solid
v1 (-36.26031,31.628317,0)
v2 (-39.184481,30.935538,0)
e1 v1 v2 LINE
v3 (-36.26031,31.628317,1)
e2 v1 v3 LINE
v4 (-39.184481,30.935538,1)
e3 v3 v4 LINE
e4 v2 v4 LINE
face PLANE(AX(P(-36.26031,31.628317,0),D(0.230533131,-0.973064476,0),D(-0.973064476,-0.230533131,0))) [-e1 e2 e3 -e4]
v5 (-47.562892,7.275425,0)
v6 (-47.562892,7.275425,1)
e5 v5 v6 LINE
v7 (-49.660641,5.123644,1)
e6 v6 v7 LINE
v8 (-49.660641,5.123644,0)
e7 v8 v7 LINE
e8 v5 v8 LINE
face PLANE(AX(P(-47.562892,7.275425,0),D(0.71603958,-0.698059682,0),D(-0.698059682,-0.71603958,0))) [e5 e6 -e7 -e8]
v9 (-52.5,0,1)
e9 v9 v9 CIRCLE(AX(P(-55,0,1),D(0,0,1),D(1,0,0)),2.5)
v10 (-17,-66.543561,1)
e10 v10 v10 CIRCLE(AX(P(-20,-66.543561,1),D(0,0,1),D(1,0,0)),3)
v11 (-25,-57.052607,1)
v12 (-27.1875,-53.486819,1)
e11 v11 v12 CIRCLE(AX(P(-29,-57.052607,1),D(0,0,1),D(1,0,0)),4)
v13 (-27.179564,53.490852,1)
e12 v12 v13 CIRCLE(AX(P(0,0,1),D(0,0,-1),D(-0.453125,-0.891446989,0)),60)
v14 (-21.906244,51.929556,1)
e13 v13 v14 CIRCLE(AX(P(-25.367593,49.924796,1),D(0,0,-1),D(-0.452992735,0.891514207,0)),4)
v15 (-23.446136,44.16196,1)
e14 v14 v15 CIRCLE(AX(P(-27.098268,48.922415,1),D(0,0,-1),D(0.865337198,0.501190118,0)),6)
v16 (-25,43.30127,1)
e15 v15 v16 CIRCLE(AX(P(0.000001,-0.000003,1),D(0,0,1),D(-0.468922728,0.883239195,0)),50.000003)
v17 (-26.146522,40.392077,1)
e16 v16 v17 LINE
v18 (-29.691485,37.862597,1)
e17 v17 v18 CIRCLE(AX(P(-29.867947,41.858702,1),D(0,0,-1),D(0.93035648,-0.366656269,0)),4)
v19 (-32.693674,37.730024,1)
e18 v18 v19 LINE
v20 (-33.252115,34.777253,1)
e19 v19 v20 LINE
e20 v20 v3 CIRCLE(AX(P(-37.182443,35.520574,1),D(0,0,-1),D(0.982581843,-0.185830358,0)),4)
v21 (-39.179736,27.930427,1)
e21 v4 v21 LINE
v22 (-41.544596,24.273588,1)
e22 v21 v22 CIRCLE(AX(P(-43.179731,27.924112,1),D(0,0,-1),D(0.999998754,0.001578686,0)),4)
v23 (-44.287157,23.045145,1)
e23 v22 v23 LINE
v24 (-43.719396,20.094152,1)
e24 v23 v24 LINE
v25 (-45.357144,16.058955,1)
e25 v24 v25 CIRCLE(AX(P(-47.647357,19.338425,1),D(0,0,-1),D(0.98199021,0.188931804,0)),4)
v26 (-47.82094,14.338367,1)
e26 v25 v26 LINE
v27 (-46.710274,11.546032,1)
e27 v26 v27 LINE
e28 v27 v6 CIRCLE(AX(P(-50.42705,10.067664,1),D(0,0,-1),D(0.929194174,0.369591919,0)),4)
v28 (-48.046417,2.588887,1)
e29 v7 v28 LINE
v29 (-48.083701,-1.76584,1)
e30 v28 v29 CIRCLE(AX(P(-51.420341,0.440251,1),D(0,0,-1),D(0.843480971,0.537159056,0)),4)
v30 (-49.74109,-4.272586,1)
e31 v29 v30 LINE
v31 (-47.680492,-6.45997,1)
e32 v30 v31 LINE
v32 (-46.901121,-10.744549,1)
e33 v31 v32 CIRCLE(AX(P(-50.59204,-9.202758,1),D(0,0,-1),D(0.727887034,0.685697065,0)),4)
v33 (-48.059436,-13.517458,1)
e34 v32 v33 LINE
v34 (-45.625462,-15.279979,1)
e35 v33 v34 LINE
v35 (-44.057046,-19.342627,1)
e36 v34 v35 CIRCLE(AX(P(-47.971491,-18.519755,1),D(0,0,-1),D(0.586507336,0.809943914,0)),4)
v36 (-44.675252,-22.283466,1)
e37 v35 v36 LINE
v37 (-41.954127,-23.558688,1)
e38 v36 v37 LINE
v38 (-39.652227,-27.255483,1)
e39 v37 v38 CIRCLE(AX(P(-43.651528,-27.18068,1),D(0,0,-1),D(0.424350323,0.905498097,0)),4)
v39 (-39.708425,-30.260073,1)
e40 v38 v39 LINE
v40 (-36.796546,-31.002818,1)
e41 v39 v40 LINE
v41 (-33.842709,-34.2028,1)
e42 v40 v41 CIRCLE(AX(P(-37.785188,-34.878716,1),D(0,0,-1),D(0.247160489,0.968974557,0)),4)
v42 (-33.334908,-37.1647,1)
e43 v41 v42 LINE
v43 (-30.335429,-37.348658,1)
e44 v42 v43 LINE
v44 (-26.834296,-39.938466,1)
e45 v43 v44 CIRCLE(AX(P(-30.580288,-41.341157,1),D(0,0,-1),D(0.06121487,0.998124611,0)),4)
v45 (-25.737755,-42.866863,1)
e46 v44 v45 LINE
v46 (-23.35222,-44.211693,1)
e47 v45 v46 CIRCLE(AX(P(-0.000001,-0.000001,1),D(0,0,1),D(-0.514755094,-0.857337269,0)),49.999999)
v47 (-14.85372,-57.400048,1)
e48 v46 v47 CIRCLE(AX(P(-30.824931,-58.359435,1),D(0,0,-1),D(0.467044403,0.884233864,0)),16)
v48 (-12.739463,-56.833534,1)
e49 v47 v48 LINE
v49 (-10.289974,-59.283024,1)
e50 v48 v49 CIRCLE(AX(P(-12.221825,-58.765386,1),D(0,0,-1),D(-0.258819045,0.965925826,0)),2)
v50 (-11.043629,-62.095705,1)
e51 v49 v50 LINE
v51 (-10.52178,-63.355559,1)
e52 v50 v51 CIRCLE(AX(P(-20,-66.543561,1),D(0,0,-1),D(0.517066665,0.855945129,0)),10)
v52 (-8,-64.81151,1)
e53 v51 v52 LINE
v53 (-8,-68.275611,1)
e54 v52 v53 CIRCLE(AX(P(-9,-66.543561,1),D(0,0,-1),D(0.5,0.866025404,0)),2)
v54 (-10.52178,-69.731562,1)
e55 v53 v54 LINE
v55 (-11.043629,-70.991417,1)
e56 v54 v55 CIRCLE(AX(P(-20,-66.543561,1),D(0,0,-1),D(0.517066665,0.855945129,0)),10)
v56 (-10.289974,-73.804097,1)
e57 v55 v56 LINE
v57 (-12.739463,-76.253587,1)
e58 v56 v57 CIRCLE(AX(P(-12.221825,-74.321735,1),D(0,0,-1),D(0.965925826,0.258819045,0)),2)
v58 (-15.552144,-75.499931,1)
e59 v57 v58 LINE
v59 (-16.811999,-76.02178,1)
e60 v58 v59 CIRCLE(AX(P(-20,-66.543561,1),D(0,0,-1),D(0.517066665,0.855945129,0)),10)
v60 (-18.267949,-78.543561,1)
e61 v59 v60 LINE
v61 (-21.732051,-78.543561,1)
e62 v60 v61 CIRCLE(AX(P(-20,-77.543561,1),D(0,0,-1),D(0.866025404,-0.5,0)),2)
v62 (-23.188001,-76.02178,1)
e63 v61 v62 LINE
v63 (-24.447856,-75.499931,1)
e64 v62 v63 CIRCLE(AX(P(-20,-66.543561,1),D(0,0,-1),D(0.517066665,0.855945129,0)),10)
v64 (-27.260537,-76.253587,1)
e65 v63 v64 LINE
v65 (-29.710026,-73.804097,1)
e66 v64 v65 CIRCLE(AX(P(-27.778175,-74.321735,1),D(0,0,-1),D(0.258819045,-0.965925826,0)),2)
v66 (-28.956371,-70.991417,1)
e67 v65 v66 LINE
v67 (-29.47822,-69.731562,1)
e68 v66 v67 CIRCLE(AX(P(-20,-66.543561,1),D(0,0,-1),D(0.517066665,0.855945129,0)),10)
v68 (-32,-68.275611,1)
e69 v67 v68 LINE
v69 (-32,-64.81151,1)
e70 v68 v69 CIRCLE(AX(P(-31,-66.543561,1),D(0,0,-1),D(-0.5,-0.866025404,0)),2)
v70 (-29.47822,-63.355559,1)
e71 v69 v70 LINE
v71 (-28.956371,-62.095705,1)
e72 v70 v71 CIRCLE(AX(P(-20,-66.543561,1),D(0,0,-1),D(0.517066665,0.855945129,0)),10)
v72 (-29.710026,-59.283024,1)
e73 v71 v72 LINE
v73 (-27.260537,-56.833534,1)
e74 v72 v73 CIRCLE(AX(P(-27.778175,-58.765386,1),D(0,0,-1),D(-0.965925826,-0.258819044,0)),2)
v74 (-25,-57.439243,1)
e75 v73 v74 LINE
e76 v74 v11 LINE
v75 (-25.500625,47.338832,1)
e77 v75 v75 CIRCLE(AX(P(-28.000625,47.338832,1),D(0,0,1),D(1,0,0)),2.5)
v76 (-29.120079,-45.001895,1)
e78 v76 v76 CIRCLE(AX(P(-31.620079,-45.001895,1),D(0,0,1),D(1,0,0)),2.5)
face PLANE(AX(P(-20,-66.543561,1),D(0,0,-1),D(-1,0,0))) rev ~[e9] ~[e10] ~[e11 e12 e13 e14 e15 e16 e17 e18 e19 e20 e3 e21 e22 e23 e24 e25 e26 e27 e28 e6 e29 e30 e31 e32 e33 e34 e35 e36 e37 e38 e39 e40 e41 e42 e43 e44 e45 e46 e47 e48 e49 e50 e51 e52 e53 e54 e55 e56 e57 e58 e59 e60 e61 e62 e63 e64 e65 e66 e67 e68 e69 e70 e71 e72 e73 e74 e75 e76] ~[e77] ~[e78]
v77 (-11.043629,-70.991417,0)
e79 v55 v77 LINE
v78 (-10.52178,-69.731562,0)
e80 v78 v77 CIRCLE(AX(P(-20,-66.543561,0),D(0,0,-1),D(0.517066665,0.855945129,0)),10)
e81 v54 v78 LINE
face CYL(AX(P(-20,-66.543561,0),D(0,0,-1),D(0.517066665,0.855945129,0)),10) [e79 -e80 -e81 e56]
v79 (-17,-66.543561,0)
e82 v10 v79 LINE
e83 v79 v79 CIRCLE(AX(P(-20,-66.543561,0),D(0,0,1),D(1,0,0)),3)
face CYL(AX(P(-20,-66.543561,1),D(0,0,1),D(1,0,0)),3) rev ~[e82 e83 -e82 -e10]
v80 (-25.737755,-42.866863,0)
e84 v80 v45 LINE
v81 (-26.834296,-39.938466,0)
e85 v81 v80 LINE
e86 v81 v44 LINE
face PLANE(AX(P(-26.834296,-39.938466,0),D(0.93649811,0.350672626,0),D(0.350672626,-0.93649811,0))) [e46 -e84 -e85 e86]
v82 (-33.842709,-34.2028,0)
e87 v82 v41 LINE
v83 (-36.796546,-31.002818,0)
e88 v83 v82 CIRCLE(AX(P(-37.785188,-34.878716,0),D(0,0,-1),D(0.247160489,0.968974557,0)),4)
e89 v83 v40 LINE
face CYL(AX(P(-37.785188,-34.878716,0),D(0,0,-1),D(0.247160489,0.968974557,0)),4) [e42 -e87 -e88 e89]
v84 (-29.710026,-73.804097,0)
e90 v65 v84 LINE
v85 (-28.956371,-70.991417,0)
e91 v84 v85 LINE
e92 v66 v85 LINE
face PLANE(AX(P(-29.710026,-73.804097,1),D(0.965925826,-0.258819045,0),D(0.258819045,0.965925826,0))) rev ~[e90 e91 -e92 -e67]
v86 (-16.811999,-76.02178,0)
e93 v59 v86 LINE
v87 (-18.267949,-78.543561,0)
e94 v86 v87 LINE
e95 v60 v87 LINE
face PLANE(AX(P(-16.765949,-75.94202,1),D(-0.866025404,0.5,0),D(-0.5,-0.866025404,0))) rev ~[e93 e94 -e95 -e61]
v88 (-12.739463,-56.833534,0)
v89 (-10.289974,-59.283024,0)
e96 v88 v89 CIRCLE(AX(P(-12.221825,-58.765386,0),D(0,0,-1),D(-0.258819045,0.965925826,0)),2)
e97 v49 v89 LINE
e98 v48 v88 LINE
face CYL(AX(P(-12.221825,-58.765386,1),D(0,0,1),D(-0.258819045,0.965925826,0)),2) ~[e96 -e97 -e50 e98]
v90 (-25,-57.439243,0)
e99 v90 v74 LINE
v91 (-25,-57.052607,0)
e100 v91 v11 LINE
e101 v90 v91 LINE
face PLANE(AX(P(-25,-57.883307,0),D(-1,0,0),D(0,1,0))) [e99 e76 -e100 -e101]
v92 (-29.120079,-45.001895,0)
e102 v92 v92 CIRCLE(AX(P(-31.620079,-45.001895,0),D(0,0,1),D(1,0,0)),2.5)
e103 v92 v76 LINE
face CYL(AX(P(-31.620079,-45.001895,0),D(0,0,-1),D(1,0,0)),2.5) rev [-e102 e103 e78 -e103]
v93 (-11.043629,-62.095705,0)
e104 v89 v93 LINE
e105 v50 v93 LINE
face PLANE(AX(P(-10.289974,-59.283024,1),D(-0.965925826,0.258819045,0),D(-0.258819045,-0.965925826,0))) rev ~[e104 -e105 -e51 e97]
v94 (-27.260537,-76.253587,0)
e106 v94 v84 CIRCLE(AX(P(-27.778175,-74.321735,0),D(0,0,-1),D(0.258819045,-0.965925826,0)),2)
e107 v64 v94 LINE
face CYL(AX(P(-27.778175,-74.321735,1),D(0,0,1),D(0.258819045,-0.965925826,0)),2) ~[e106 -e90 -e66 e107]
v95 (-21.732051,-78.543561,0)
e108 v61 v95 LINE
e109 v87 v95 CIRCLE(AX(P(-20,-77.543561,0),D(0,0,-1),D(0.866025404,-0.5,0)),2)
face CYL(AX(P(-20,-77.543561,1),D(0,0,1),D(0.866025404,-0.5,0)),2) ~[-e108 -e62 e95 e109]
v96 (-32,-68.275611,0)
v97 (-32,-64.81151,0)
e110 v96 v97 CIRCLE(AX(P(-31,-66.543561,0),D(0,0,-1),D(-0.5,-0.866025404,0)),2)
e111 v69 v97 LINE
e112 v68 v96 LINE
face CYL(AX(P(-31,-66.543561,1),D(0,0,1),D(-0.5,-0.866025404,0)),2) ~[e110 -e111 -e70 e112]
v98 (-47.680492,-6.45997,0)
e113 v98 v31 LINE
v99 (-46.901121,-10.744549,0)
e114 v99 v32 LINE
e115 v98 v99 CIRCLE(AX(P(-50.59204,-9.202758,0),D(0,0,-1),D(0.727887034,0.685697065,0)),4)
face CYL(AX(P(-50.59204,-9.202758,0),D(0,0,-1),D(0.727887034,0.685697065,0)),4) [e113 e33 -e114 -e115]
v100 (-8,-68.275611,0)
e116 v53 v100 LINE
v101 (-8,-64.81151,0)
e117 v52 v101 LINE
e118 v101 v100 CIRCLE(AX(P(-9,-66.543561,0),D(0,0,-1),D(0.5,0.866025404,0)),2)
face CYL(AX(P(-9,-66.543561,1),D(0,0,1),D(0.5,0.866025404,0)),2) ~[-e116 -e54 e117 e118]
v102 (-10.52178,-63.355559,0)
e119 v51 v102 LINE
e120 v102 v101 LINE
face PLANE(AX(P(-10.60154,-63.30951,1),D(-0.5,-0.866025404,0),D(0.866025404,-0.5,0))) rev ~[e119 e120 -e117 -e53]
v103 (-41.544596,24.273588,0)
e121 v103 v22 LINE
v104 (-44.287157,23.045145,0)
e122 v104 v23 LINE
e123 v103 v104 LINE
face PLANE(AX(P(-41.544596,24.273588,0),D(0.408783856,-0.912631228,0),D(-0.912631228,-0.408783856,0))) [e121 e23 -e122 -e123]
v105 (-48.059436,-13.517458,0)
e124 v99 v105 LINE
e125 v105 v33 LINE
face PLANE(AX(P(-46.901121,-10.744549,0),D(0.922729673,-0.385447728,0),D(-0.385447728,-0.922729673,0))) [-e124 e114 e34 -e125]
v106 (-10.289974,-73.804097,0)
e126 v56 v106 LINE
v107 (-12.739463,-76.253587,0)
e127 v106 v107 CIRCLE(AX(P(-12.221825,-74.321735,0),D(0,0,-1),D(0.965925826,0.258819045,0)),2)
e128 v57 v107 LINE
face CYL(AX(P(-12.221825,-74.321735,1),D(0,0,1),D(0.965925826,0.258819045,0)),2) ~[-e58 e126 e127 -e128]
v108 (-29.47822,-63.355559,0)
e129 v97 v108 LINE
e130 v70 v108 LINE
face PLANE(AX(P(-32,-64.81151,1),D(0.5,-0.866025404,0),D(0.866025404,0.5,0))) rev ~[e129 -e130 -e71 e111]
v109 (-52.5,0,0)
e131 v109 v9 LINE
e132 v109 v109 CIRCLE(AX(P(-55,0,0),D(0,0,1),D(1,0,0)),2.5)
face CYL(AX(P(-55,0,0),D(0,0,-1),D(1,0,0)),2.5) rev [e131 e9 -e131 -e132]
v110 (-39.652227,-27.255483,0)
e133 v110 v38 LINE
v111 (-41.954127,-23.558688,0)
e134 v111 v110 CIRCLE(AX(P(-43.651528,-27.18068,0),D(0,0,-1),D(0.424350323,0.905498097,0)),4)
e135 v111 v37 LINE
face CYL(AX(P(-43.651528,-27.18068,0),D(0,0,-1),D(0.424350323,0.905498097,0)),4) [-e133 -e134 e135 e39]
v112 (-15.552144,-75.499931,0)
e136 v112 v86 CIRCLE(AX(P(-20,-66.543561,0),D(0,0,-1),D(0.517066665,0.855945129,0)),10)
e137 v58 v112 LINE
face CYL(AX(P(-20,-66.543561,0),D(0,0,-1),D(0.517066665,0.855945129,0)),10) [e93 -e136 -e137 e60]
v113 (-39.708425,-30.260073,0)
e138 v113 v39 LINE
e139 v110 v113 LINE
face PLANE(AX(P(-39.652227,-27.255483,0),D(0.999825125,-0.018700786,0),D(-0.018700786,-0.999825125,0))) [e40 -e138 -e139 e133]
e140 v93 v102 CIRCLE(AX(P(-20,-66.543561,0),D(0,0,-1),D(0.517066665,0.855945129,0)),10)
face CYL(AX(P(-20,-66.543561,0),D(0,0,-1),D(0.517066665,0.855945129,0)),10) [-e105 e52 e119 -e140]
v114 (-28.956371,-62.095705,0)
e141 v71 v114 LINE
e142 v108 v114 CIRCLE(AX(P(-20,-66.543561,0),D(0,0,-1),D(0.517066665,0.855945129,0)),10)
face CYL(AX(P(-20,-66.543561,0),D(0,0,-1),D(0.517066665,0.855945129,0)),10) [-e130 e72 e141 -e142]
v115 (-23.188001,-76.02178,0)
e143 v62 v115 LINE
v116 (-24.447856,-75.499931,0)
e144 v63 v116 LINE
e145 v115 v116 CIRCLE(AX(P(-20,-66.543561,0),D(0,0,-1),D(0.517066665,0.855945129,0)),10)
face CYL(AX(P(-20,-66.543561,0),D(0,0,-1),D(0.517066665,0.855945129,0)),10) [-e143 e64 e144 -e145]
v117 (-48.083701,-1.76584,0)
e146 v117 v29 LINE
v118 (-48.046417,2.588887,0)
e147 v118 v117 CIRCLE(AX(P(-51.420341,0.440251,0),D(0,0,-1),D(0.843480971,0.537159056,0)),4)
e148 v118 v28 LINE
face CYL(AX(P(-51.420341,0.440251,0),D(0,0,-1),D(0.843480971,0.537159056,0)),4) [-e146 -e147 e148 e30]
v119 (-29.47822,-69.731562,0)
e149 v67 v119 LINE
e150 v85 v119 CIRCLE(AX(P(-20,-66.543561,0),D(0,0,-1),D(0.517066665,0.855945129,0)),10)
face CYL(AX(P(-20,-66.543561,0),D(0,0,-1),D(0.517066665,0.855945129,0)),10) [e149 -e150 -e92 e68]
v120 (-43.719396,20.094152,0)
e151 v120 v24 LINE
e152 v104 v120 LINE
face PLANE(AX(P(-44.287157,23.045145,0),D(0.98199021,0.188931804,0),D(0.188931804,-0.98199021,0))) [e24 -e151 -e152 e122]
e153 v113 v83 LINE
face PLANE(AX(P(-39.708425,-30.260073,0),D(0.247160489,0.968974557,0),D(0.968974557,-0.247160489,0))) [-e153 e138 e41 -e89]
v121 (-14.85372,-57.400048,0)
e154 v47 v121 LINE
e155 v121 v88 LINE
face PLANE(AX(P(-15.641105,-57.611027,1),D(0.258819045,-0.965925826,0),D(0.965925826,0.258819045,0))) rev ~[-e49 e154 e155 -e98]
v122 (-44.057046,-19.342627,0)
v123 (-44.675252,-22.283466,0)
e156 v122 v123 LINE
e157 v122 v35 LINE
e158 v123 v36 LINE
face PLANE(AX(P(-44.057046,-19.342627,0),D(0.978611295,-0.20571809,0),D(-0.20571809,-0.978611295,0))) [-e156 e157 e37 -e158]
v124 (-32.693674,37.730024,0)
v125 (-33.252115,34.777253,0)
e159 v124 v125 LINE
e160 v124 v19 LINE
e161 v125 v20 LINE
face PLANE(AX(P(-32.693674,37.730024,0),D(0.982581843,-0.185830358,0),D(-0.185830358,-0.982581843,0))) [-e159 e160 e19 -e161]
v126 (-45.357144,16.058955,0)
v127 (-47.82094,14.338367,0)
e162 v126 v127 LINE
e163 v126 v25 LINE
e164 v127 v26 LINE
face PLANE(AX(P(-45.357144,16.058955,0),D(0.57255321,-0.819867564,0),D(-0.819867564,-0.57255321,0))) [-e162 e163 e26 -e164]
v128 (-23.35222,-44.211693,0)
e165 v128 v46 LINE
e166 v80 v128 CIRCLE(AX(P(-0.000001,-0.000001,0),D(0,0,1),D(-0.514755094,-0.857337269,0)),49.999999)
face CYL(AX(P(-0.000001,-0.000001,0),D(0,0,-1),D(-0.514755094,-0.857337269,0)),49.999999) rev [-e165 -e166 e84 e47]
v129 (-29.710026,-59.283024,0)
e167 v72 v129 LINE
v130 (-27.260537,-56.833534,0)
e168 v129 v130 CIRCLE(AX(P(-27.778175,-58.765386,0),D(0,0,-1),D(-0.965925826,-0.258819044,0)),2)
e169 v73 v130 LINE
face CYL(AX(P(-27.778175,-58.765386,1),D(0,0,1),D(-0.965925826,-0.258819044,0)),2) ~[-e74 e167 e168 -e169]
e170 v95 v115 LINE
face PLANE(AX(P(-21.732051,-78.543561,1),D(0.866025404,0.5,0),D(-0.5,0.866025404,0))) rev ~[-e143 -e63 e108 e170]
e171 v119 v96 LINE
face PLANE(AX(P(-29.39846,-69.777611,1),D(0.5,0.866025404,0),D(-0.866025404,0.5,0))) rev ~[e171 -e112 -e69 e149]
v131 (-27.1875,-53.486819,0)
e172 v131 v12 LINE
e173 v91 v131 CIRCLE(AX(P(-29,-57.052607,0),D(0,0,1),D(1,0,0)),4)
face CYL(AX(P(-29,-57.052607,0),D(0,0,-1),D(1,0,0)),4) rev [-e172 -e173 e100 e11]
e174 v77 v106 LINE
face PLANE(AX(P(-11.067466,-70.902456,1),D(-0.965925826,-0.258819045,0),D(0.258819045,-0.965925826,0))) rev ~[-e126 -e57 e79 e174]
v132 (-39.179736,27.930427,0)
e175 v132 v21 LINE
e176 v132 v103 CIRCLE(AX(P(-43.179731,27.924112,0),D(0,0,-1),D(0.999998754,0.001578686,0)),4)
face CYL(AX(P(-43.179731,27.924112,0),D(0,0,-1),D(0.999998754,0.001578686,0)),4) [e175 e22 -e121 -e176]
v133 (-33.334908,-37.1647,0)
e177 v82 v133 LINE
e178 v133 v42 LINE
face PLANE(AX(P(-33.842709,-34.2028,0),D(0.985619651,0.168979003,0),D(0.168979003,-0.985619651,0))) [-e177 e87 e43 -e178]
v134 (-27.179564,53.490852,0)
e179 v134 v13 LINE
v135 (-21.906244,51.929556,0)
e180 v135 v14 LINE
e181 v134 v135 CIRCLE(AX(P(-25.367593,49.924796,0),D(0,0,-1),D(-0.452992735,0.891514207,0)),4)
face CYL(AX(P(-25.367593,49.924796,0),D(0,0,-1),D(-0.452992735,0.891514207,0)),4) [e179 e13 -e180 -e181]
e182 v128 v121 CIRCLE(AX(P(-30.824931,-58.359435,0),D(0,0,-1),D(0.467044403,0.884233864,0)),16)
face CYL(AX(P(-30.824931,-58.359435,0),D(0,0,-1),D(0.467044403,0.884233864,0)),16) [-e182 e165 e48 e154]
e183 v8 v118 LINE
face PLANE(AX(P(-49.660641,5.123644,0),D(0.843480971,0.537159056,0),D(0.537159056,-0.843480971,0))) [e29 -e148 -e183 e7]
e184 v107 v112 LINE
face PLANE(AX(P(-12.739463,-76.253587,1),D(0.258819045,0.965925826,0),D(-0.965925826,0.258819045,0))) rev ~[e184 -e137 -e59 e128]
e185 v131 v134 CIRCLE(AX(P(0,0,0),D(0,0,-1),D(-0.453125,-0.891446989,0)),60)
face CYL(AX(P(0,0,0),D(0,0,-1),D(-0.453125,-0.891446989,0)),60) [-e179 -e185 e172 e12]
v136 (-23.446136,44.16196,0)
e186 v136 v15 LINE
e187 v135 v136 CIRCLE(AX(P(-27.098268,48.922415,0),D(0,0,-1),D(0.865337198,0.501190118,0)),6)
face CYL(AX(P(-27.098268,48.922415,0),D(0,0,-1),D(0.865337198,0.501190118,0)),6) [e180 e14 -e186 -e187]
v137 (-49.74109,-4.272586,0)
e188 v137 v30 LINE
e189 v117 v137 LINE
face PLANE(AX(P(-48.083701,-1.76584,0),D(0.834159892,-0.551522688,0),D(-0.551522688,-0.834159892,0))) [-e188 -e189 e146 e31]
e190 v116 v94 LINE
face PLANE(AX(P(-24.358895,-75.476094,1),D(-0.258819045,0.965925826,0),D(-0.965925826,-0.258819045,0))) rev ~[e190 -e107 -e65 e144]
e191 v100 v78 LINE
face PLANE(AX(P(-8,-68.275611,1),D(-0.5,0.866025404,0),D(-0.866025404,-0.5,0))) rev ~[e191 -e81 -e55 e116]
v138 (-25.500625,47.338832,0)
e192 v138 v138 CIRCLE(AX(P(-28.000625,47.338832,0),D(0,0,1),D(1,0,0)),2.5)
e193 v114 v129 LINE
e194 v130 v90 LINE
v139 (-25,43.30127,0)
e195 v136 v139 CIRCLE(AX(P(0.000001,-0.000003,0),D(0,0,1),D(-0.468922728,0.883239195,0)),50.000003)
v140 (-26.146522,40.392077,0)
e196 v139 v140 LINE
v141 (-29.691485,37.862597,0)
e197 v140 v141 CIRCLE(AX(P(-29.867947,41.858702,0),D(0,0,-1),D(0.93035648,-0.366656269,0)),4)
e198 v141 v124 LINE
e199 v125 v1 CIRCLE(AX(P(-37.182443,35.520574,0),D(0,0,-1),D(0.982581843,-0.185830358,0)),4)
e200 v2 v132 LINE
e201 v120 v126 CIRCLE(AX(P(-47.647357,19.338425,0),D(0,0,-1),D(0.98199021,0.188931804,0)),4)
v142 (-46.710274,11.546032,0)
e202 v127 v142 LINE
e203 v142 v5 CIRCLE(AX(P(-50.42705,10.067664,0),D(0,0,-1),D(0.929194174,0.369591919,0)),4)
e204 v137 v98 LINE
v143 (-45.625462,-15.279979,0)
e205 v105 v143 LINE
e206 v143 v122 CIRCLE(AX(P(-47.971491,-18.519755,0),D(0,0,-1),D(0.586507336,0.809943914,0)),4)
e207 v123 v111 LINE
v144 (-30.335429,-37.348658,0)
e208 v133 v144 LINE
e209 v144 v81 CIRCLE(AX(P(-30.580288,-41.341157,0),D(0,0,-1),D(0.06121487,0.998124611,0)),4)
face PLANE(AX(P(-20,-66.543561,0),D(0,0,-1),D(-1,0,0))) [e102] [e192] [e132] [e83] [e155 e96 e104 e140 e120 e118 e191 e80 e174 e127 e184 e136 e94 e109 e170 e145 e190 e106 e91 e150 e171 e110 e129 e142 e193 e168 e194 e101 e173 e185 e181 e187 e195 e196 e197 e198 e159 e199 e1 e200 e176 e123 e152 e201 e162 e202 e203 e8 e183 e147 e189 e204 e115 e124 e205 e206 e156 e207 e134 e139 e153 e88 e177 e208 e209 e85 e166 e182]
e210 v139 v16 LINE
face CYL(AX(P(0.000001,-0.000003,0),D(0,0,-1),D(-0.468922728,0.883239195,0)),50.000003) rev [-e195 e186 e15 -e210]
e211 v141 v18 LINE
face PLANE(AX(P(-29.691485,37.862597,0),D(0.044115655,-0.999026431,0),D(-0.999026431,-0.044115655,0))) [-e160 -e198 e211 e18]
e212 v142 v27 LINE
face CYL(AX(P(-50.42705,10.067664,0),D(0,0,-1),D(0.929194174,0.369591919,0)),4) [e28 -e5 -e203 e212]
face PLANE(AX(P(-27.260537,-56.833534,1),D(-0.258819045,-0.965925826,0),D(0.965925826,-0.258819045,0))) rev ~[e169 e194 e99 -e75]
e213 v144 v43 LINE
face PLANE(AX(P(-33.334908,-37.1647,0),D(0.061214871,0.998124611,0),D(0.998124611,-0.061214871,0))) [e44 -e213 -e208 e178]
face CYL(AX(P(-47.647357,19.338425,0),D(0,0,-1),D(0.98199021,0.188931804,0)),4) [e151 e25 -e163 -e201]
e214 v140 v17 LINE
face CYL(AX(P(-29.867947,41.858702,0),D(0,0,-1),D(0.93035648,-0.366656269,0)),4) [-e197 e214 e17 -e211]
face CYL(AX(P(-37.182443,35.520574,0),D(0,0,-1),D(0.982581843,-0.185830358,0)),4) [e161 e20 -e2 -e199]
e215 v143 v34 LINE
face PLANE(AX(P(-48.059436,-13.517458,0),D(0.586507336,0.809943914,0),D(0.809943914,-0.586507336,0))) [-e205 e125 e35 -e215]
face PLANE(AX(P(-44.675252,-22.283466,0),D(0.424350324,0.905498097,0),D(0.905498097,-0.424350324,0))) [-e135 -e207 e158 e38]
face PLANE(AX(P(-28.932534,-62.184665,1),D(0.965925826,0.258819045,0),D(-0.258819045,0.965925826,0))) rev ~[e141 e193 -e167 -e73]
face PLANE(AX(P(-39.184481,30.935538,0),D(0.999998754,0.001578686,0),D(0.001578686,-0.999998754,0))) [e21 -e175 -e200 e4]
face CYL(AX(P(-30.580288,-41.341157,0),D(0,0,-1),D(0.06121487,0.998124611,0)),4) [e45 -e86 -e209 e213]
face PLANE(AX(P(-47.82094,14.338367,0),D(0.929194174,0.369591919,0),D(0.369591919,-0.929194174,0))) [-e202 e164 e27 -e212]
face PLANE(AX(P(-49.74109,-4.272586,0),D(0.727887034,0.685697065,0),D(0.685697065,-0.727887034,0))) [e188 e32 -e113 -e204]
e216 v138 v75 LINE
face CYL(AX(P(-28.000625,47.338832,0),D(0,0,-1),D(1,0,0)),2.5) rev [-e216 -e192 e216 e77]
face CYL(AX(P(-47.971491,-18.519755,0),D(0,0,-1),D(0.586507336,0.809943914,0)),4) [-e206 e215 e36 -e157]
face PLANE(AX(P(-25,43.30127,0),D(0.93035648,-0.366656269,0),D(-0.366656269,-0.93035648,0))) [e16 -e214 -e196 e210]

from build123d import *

# Parameters (mm, degrees)
IZIM1_R                     = 5
IZIM1_R_2                   = 2.5
Y_KSEKLIK_EKSTR_ZYON2_DEPTH = 1
IZIM2_R                     = 3
Y_KSEKLIK_EKSTR_ZYON4_DEPTH = 1


with BuildPart() as part:
    # Çizim1 → Yükseklik-Ekstrüzyon2 (new body)
    with BuildSketch(Plane.XY):
        with BuildLine():
            Line((-25, 43.301270189), (-26.146521576, 40.39207739))
            ThreePointArc((-26.146521576, 40.39207739), (-27.544598222, 38.602623821), (-29.691484877, 37.862596744))
            Line((-29.691484877, 37.862596744), (-32.693673826, 37.730024144))
            Line((-32.693673826, 37.730024144), (-33.252115355, 34.777253066))
            ThreePointArc((-33.252115355, 34.777253066), (-34.290118058, 32.757522199), (-36.260310201, 31.628316593))
            Line((-36.260310201, 31.628316593), (-39.184480502, 30.935538106))
            Line((-39.184480502, 30.935538106), (-39.17973637, 27.930427214))
            ThreePointArc((-39.17973637, 27.930427214), (-39.820893366, 25.751969023), (-41.54459596, 24.273587558))
            Line((-41.54459596, 24.273587558), (-44.287157421, 23.045145208))
            Line((-44.287157421, 23.045145208), (-43.719395692, 20.094152054))
            ThreePointArc((-43.719395692, 20.094152054), (-43.940993675, 17.834139505), (-45.357143694, 16.058954583))
            Line((-45.357143694, 16.058954583), (-47.82093971, 14.338366552))
            Line((-47.82093971, 14.338366552), (-46.710273625, 11.546031539))
            ThreePointArc((-46.710273625, 11.546031539), (-46.504462376, 9.284526705), (-47.562892001, 7.275425136))
            Line((-47.562892001, 7.275425136), (-49.660641368, 5.123644113))
            Line((-49.660641368, 5.123644113), (-48.046416828, 2.588887101))
            ThreePointArc((-48.046416828, 2.588887101), (-47.420487313, 0.406004917), (-48.083701146, -1.765839874))
            Line((-48.083701146, -1.765839874), (-49.741090048, -4.272585973))
            Line((-49.741090048, -4.272585973), (-47.680491761, -6.459969953))
            ThreePointArc((-47.680491761, -6.459969953), (-46.656617846, -8.486899797), (-46.901121207, -10.744549126))
            Line((-46.901121207, -10.744549126), (-48.059435816, -13.517457571))
            Line((-48.059435816, -13.517457571), (-45.625461503, -15.279979352))
            ThreePointArc((-45.625461503, -15.279979352), (-44.239914432, -17.079151855), (-44.057045667, -19.342627369))
            Line((-44.057045667, -19.342627369), (-44.675252109, -22.283466496))
            Line((-44.675252109, -22.283466496), (-41.954126526, -23.558687864))
            ThreePointArc((-41.954126526, -23.558687864), (-40.255989993, -25.066366444), (-39.652227319, -27.255483394))
            Line((-39.652227319, -27.255483394), (-39.708425324, -30.260072511))
            Line((-39.708425324, -30.260072511), (-36.7965457, -31.002818113))
            ThreePointArc((-36.7965457, -31.002818113), (-34.84597704, -32.165592505), (-33.842709051, -34.202800331))
            Line((-33.842709051, -34.202800331), (-33.334907776, -37.164700371))
            Line((-33.334907776, -37.164700371), (-30.335428898, -37.348658075))
            ThreePointArc((-30.335428898, -37.348658075), (-28.201527977, -38.125336415), (-26.834295942, -39.938466016))
            Line((-26.834295942, -39.938466016), (-25.73775467, -42.866863479))
            ThreePointArc((-25.73775467, -42.866863479), (-24.554196145, -43.55561332), (-23.352220135, -44.21169319))
            ThreePointArc((-23.352220135, -44.21169319), (-17.219408632, -49.939828574), (-14.829333353, -57.984109281))
            ThreePointArc((-14.829333353, -57.984109281), (-20.099106379, -76.543069457), (-25, -57.883306535))
            Line((-25, -57.883306535), (-25, -57.052607302))
            ThreePointArc((-25, -57.052607302), (-25.590454576, -54.960957236), (-27.1875, -53.486819346))
            ThreePointArc((-27.1875, -53.486819346), (-59.999999835, 0.004450967), (-27.179564099, 53.490852446))
            ThreePointArc((-27.179564099, 53.490852446), (-24.232021318, 53.76021953), (-21.906244367, 51.929556087))
            ThreePointArc((-21.906244367, 51.929556087), (-21.212806241, 47.755648425), (-23.446136356, 44.161959762))
            ThreePointArc((-23.446136356, 44.161959762), (-24.226890609, 43.73851588), (-25, 43.301270189))
        make_face()
        with Locations((-20, -66.543560573)):
            Circle(IZIM1_R, mode=Mode.SUBTRACT)
        with Locations((-31.620079453, -45.001895242)):
            Circle(IZIM1_R_2, mode=Mode.SUBTRACT)
        with Locations((-55, 0)):
            Circle(IZIM1_R_2, mode=Mode.SUBTRACT)
        with Locations((-28.000624989, 47.338831842)):
            Circle(IZIM1_R_2, mode=Mode.SUBTRACT)
    extrude(amount=Y_KSEKLIK_EKSTR_ZYON2_DEPTH)

    # Çizim2 → Yükseklik-Ekstrüzyon4 (add)
    with BuildSketch(Plane.XY.offset(1)):
        with BuildLine():
            Line((-8, -68.275611381), (-10.601540351, -69.777611403))
            ThreePointArc((-10.601540351, -69.777611403), (-11.025419883, -70.260953374), (-11.067466177, -70.902455852))
            Line((-11.067466177, -70.902455852), (-10.289973754, -73.804097076))
            ThreePointArc((-10.289973754, -73.804097076), (-10.807611845, -75.735948729), (-12.739463497, -76.253586819))
            Line((-12.739463497, -76.253586819), (-15.641104722, -75.476094396))
            ThreePointArc((-15.641104722, -75.476094396), (-16.282607199, -75.51814069), (-16.765949171, -75.942020222))
            Line((-16.765949171, -75.942020222), (-18.267949192, -78.543560573))
            ThreePointArc((-18.267949192, -78.543560573), (-20, -79.543560573), (-21.732050808, -78.543560573))
            Line((-21.732050808, -78.543560573), (-23.234050829, -75.942020222))
            ThreePointArc((-23.234050829, -75.942020222), (-23.717392801, -75.51814069), (-24.358895278, -75.476094396))
            Line((-24.358895278, -75.476094396), (-27.260536503, -76.253586819))
            ThreePointArc((-27.260536503, -76.253586819), (-29.192388155, -75.735948729), (-29.710026246, -73.804097076))
            Line((-29.710026246, -73.804097076), (-28.932533823, -70.902455852))
            ThreePointArc((-28.932533823, -70.902455852), (-28.974580117, -70.260953374), (-29.398459649, -69.777611403))
            Line((-29.398459649, -69.777611403), (-32, -68.275611381))
            ThreePointArc((-32, -68.275611381), (-33, -66.543560573), (-32, -64.811509766))
            Line((-32, -64.811509766), (-29.398459649, -63.309509744))
            ThreePointArc((-29.398459649, -63.309509744), (-28.974580117, -62.826167772), (-28.932533823, -62.184665295))
            Line((-28.932533823, -62.184665295), (-29.710026246, -59.28302407))
            ThreePointArc((-29.710026246, -59.28302407), (-29.192388155, -57.351172418), (-27.260536503, -56.833534328))
            Line((-27.260536503, -56.833534328), (-24.358895278, -57.61102675))
            ThreePointArc((-24.358895278, -57.61102675), (-23.717392801, -57.568980457), (-23.234050829, -57.145100924))
            Line((-23.234050829, -57.145100924), (-21.732050808, -54.543560573))
            ThreePointArc((-21.732050808, -54.543560573), (-20, -53.543560573), (-18.267949192, -54.543560573))
            Line((-18.267949192, -54.543560573), (-16.765949171, -57.145100924))
            ThreePointArc((-16.765949171, -57.145100924), (-16.282607199, -57.568980457), (-15.641104722, -57.61102675))
            Line((-15.641104722, -57.61102675), (-12.739463497, -56.833534328))
            ThreePointArc((-12.739463497, -56.833534328), (-10.807611845, -57.351172418), (-10.289973754, -59.28302407))
            Line((-10.289973754, -59.28302407), (-11.067466177, -62.184665295))
            ThreePointArc((-11.067466177, -62.184665295), (-11.025419883, -62.826167772), (-10.601540351, -63.309509744))
            Line((-10.601540351, -63.309509744), (-8, -64.811509766))
            ThreePointArc((-8, -64.811509766), (-7, -66.543560573), (-8, -68.275611381))
        make_face()
        with Locations((-20, -66.543560573)):
            Circle(IZIM2_R, mode=Mode.SUBTRACT)
    extrude(amount=-Y_KSEKLIK_EKSTR_ZYON4_DEPTH)


solid = part.part
